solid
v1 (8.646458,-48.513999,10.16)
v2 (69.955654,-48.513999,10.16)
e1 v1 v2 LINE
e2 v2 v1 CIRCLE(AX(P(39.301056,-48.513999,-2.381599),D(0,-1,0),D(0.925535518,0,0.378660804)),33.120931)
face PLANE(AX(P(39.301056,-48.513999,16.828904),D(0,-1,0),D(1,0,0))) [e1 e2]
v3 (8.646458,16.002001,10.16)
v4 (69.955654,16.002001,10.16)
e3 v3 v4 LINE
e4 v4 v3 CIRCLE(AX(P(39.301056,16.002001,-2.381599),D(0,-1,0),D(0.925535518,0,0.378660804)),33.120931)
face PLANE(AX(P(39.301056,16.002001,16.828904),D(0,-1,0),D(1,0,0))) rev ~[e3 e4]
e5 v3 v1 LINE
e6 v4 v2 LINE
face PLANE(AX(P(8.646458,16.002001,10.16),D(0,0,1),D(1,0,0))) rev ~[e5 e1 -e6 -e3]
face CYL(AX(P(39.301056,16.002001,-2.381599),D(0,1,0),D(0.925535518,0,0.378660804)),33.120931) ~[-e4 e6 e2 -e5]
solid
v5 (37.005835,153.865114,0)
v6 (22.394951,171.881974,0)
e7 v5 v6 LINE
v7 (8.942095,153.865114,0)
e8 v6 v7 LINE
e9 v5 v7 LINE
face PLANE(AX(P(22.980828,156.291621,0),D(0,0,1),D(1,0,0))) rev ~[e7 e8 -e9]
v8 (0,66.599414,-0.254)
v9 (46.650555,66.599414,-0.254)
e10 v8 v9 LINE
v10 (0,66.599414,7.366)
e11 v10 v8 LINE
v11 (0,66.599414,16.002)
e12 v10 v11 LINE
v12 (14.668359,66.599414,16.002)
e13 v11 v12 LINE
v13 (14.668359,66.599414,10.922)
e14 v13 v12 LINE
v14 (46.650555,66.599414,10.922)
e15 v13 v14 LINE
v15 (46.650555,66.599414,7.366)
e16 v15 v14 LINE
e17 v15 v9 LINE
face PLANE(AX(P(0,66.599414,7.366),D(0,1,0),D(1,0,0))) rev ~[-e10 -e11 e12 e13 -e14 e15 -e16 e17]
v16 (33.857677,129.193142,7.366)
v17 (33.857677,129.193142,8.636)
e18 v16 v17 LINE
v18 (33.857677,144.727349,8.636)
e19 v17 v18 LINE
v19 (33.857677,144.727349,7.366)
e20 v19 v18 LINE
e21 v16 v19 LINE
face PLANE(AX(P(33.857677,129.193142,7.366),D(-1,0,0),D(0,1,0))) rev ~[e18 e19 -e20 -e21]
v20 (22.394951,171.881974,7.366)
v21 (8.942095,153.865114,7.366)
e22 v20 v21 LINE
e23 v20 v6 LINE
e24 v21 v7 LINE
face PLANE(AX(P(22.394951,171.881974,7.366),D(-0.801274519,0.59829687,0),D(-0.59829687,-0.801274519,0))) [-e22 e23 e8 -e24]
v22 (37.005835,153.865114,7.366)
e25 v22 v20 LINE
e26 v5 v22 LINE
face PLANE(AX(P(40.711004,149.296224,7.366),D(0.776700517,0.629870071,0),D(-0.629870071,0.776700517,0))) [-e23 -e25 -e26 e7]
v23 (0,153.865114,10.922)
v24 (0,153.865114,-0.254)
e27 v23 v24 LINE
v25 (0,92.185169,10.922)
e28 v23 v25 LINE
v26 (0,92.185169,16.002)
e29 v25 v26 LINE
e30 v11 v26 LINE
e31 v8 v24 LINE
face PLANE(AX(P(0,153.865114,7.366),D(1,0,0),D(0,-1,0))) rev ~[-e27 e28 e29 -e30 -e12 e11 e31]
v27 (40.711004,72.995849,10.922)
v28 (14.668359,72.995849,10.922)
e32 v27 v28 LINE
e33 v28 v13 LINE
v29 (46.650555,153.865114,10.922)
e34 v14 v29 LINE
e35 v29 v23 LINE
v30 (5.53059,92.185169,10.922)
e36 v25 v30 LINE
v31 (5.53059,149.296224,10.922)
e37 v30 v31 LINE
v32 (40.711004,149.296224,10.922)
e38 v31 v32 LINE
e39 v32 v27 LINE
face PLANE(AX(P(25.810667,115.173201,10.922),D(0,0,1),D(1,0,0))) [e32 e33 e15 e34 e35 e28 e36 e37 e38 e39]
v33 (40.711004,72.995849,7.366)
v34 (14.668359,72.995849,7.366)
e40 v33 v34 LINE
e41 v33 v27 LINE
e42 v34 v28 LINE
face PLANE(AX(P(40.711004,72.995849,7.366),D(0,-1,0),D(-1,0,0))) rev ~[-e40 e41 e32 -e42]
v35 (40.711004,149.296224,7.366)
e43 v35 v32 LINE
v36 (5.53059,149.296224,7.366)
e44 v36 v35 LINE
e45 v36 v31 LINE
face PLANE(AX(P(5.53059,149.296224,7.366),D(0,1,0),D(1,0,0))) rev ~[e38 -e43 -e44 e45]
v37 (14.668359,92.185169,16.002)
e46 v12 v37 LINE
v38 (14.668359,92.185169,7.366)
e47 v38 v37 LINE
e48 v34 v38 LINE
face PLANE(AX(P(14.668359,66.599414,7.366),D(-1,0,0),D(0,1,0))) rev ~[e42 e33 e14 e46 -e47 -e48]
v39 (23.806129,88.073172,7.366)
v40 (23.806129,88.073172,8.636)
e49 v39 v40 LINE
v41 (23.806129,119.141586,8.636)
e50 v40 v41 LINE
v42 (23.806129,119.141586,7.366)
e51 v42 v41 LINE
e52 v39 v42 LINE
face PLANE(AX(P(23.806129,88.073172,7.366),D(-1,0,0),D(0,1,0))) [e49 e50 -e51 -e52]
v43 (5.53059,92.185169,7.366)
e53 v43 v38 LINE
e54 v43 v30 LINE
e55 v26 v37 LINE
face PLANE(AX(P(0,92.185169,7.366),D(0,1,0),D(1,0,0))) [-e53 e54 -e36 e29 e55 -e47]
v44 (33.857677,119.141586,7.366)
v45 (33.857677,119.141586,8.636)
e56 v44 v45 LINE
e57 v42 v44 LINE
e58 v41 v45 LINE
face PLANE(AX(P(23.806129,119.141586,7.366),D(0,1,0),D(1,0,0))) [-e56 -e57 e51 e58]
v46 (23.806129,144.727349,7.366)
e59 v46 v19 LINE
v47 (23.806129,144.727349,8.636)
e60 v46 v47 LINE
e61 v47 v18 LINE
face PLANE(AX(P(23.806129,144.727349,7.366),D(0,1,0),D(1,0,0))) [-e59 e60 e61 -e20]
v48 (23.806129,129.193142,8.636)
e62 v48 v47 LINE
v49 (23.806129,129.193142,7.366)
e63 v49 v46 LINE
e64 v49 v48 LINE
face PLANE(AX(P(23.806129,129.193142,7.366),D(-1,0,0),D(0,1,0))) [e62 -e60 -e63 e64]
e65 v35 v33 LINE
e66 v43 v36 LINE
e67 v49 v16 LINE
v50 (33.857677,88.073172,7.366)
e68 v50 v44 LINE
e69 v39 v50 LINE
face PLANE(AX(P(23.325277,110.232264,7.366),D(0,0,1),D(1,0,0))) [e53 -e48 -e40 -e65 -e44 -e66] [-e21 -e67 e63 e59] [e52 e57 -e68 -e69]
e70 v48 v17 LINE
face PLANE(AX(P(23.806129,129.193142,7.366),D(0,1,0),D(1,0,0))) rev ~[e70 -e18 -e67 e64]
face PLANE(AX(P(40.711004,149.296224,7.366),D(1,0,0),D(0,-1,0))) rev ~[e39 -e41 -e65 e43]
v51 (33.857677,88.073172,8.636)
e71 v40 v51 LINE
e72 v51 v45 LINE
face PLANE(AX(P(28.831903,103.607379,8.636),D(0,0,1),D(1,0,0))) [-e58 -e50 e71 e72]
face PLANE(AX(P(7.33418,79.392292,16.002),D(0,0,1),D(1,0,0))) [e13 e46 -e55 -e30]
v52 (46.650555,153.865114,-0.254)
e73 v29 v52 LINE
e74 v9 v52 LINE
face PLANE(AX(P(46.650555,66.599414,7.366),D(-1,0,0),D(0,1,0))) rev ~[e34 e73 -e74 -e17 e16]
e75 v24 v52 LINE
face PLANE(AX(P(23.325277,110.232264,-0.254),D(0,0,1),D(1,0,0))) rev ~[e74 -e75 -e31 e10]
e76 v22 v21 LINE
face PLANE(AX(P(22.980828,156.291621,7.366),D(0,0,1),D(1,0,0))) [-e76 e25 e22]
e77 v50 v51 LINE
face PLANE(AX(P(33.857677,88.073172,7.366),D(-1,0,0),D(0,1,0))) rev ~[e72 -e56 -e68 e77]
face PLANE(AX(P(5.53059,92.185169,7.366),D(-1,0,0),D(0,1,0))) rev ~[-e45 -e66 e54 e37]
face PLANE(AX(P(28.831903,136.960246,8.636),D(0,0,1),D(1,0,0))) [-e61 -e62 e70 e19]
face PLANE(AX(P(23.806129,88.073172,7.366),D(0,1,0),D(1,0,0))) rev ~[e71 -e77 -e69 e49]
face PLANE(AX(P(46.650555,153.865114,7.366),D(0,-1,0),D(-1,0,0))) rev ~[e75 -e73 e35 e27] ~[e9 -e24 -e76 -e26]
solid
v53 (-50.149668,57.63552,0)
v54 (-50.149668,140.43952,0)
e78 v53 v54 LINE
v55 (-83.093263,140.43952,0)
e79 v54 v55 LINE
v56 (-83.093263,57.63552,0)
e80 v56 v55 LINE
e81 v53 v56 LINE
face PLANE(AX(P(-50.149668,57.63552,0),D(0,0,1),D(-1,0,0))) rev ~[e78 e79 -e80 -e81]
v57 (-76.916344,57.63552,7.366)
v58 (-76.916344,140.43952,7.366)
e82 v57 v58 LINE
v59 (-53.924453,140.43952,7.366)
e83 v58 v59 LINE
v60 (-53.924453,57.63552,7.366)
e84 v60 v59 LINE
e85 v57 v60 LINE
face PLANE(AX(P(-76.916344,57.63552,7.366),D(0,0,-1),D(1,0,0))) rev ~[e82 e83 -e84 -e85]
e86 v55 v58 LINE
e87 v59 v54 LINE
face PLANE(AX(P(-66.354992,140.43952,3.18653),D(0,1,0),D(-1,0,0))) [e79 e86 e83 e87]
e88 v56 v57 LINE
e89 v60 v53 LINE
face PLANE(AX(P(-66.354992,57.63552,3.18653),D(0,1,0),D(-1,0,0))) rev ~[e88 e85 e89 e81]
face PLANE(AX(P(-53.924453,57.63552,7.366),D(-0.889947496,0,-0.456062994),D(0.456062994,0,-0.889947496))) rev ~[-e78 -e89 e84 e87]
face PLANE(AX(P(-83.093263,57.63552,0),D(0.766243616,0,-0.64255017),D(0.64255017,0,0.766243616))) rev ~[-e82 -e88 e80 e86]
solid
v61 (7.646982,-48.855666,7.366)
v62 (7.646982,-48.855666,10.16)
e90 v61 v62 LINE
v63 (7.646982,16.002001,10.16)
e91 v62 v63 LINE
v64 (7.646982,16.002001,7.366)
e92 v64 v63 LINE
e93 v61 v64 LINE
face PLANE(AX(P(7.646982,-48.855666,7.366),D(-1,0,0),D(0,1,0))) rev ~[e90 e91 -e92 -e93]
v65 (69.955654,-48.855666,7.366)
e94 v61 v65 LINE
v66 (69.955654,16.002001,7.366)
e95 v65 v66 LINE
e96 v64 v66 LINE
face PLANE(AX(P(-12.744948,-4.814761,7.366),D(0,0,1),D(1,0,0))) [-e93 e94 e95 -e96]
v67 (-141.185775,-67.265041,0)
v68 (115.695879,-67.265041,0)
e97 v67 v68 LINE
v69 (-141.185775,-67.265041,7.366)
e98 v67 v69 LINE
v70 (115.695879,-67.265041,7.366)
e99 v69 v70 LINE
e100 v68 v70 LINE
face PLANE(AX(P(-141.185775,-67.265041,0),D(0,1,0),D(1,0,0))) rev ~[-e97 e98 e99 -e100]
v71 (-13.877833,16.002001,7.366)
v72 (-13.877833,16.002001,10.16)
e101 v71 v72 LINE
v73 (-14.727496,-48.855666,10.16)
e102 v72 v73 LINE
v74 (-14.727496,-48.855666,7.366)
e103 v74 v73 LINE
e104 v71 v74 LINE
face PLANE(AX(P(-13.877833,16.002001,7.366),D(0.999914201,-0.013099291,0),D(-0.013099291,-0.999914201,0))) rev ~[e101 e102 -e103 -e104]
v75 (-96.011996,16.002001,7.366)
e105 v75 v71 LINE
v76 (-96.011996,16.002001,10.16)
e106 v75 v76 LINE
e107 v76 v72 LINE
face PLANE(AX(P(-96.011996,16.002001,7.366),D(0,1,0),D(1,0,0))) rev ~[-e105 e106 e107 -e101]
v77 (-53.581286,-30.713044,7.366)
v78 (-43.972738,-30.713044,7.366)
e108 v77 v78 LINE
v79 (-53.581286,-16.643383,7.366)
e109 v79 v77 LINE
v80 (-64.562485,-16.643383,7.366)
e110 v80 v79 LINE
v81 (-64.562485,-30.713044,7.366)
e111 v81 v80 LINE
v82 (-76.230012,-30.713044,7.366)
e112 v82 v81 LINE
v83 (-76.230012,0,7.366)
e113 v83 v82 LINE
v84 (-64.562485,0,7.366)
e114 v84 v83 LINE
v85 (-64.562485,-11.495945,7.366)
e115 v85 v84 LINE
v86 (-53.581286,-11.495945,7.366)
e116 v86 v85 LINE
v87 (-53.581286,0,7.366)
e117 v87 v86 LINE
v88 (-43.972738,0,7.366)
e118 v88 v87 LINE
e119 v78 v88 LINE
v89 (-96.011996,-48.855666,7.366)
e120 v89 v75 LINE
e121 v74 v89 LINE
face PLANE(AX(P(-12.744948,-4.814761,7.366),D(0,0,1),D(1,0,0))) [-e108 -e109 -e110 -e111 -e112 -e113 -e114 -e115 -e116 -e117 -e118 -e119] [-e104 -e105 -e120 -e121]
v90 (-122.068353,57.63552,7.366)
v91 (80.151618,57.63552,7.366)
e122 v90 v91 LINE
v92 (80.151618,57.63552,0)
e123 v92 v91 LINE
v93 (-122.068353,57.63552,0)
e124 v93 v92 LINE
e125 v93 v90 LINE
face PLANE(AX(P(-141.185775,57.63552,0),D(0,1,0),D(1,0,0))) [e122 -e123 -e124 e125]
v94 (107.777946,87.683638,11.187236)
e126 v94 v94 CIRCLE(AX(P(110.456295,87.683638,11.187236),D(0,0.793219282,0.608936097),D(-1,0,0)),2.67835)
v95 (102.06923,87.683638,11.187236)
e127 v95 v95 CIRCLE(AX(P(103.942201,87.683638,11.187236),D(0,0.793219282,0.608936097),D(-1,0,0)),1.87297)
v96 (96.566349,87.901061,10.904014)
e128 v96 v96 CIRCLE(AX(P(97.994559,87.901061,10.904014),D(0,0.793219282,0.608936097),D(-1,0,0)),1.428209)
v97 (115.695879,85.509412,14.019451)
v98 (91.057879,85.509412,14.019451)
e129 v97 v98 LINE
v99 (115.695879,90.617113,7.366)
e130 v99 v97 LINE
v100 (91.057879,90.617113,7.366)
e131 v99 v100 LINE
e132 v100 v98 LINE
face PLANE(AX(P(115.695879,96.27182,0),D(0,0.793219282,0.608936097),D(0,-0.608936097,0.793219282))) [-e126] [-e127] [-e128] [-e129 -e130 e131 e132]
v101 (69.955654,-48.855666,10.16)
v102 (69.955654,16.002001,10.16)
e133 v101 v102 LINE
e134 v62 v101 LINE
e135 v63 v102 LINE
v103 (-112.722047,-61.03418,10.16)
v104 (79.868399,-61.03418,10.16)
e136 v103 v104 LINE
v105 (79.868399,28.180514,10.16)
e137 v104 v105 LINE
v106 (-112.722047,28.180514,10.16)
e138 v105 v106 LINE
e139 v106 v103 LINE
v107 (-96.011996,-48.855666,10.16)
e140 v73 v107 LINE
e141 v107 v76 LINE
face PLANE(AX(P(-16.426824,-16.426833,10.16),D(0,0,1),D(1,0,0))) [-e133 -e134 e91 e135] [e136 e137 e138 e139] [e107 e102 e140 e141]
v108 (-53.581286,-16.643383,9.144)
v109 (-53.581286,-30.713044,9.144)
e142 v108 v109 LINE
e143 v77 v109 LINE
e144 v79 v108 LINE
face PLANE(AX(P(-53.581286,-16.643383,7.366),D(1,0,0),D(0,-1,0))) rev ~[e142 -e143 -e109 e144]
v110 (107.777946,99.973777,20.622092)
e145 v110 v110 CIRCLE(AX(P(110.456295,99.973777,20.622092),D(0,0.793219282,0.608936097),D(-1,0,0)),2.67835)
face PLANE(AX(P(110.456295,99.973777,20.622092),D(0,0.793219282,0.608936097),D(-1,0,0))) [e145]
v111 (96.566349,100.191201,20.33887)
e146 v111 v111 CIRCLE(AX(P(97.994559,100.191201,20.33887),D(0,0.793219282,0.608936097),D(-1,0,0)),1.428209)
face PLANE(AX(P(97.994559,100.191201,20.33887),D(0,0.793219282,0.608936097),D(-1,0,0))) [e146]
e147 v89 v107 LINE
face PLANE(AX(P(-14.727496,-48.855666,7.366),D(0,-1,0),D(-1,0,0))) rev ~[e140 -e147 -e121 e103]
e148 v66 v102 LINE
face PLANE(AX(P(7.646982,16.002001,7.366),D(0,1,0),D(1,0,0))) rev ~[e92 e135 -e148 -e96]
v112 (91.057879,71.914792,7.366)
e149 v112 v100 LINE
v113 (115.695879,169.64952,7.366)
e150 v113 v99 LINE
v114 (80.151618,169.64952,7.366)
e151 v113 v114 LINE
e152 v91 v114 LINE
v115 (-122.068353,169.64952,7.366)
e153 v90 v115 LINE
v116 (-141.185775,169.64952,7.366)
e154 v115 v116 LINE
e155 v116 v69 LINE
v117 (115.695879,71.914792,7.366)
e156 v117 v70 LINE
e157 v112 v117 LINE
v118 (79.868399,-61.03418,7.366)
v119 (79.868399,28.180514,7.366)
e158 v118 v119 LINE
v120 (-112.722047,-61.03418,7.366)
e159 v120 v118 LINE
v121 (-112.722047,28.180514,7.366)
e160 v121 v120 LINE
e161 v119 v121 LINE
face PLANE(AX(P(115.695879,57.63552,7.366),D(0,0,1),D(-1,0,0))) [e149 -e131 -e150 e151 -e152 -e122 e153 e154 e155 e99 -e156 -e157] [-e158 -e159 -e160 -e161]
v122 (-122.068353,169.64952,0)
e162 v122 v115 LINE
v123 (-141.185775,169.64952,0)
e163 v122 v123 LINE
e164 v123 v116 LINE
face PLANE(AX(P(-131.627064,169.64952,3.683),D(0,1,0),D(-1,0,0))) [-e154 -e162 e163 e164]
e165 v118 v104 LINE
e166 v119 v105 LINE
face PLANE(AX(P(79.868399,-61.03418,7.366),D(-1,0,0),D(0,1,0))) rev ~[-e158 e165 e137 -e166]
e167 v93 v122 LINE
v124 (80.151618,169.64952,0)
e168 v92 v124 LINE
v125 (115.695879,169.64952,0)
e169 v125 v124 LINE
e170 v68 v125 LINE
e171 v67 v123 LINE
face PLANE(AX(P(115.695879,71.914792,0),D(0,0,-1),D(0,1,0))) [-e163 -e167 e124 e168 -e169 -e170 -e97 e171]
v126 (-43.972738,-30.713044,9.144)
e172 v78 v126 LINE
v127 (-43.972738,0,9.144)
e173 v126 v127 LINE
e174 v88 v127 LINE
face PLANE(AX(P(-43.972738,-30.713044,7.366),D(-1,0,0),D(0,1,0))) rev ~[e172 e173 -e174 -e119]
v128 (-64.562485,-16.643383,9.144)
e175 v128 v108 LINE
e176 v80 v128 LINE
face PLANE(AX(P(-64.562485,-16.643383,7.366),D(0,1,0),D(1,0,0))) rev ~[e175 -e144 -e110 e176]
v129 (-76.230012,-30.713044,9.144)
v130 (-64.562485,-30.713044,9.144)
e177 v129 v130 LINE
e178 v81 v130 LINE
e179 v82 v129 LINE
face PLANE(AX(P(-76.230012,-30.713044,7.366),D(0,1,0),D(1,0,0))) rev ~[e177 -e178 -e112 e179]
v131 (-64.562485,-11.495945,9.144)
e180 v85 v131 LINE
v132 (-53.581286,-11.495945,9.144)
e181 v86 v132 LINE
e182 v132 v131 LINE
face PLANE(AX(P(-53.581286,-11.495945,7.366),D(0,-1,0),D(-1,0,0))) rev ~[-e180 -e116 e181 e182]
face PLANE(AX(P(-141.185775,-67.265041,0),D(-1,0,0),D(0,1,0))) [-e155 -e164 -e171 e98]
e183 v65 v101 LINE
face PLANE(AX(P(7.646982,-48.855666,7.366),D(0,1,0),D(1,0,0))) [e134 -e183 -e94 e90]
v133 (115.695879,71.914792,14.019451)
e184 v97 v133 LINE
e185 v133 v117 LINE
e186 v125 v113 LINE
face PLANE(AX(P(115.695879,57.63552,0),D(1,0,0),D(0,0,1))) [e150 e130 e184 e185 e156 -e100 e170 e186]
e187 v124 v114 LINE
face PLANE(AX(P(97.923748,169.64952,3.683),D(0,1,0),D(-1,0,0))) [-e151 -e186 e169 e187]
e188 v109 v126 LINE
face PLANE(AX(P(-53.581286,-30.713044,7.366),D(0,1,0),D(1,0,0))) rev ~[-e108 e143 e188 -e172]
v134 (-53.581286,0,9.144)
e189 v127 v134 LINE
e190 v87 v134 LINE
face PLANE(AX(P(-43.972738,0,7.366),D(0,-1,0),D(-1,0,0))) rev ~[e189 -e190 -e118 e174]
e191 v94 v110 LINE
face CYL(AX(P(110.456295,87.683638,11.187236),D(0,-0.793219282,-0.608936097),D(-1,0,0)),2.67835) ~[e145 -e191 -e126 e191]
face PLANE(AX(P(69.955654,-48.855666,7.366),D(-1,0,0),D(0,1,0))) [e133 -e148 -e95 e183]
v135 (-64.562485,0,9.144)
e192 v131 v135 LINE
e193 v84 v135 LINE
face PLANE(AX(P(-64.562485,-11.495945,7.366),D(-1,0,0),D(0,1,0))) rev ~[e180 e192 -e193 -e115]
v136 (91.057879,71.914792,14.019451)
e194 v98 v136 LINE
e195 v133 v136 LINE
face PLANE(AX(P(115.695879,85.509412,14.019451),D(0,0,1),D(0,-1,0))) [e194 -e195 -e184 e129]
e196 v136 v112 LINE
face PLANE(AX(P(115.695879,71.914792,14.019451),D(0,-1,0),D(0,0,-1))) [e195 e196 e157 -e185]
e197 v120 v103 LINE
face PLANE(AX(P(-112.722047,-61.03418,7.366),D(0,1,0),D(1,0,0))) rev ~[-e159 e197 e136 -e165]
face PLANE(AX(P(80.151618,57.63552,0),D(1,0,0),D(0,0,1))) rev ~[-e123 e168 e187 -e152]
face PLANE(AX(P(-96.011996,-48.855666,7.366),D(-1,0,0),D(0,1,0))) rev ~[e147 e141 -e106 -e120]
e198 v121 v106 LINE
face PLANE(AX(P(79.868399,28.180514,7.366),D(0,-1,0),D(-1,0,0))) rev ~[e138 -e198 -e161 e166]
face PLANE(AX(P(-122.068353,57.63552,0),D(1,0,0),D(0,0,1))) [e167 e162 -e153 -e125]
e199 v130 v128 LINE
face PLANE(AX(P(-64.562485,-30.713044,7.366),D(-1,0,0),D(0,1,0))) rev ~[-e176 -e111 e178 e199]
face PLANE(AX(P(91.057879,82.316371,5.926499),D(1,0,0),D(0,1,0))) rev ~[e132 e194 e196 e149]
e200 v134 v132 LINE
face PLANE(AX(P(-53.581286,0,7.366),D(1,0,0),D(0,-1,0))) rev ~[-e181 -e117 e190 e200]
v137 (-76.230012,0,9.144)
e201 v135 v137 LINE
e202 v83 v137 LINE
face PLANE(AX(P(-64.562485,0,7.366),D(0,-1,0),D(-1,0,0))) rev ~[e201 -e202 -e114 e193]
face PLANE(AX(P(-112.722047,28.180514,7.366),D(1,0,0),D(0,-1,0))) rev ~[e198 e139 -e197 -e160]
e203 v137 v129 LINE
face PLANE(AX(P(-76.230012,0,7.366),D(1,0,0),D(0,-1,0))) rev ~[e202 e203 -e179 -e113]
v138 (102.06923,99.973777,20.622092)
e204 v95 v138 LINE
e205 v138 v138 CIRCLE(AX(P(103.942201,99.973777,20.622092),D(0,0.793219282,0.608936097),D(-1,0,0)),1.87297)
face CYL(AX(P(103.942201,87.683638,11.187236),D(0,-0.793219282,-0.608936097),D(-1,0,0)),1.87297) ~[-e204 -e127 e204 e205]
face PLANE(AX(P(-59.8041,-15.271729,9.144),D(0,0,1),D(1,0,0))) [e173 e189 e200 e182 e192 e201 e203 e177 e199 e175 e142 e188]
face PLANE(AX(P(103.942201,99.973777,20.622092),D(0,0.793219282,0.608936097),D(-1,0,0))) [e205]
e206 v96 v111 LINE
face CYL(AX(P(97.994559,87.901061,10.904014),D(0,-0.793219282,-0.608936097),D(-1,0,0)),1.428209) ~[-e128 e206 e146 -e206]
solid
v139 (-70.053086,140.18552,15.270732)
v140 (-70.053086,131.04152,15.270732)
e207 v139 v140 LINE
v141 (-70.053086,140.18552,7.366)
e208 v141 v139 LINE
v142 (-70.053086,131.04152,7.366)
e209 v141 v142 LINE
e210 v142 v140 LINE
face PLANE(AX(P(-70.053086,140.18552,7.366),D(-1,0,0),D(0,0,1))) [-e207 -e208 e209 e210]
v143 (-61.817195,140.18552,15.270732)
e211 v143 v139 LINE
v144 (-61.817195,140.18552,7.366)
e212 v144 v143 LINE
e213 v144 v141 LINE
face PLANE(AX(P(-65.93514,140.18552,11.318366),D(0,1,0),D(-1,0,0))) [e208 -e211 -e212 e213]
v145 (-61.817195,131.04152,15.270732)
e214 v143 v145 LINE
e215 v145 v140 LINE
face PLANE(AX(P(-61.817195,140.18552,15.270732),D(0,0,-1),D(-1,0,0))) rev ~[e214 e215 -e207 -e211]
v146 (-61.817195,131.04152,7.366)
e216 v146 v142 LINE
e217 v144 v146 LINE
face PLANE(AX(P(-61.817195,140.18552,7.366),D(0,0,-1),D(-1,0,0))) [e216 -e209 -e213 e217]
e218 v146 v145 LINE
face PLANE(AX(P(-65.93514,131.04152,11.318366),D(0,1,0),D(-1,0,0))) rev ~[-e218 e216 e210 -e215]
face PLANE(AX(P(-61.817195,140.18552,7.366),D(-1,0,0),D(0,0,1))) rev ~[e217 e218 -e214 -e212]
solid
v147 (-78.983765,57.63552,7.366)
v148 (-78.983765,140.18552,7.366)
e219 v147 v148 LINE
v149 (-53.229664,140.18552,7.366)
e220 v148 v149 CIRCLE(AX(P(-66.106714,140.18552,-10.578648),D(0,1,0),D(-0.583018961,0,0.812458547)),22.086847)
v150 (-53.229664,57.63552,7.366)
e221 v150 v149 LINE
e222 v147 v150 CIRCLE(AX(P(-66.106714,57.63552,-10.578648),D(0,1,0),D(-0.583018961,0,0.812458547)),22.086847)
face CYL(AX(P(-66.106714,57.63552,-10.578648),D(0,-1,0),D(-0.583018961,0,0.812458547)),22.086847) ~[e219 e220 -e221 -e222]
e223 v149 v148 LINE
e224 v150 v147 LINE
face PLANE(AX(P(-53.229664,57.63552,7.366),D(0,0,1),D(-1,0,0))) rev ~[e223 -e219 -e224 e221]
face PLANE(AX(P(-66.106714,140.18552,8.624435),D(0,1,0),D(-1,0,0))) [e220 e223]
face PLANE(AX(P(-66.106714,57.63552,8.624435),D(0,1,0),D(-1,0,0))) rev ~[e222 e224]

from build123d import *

# Parameters (mm, degrees)
F0_W      = 256.8816542625
F0_H      = 124.9005608261
F1_DEPTH  = 7.366
F2_W      = 62.3086728156
F2_H      = 64.857667312
F3_DEPTH  = 2.794
F5_DEPTH  = 1.778
F7_DEPTH  = 64.516
F8_W      = 35.5442613363
F8_H      = 7.366
F8_W_2    = 19.1174224019
F9_DEPTH  = 112.014
F10_W     = 46.6505549848
F10_H     = 87.2657001019
F11_DEPTH = 7.62
F12_W     = 10.051548481
F12_H     = 15.5342072248
F12_H_2   = 31.0684144497
F13_DEPTH = 1.27
F14_W     = 14.6683594212
F14_H     = 25.5857557058
F15_DEPTH = 8.636
F17_DEPTH = 3.556
F19_DEPTH = 7.366
F21_DEPTH = 82.55
F23_DEPTH = 82.804
F24_W     = 8.2358904183
F24_H     = 7.9047323432
F25_DEPTH = 9.144
F27_DEPTH = 24.638
F28_R     = 2.6783495987
F28_R_2   = 1.4282092452
F28_R_3   = 1.8729701821
F29_DEPTH = 15.494


with BuildPart() as f1:
    # F0 (on Top) → F1 (new body)
    with BuildSketch(Plane.XY):
        with Locations((-12.7449482679, -4.8147607595)):
            Rectangle(F0_W, F0_H)
    extrude(amount=F1_DEPTH)

    # F2 (on face) → F3 (join)
    with BuildSketch(Plane.XY.offset(7.366)):
        Polygon((-112.7220466733, -61.0341802239), (-13.8778332621, -61.0341802239), (79.8683986068, -61.0341802239), (79.8683986068, 28.180513531), (-13.8778332621, 28.180513531), (-112.7220466733, 28.180513531), align=None)
        Polygon((-96.0119962692, 16.0020012408), (-13.8778332621, 16.0020012408), (-14.7274956107, -48.8556660712), (-96.0119962692, -48.8556660712), align=None, mode=Mode.SUBTRACT)
        with Locations((38.8013180345, -16.4268324152)):
            Rectangle(F2_W, F2_H, mode=Mode.SUBTRACT)
    extrude(amount=F3_DEPTH)

    # F4 (on face) → F5 (join)
    with BuildSketch(Plane.XY.offset(7.366)):
        Polygon((-64.562484622, 0), (-76.2300118804, 0), (-76.2300118804, -30.713044107), (-64.562484622, -30.713044107), (-64.562484622, -16.6433826089), (-53.5812862217, -16.6433826089), (-53.5812862217, -30.713044107), (-43.9727380872, -30.713044107), (-43.9727380872, 0), (-53.5812862217, 0), (-53.5812862217, -11.4959450439), (-64.562484622, -11.4959450439), align=None)
    extrude(amount=F5_DEPTH)

    # F8 (on face) → F9 (join)
    with BuildSketch(Plane(origin=(0, 57.6355196536, 0), x_dir=(-1, 0, 0), z_dir=(0, 1, 0))):
        with Locations((-97.9237481952, 3.683)):
            Rectangle(F8_W, F8_H)
        with Locations((131.6270641983, 3.683)):
            Rectangle(F8_W_2, F8_H)
    extrude(amount=F9_DEPTH)

    # F26 (on face) → F27 (join)
    with BuildSketch(Plane.YZ.offset(115.6958788633)):
        Polygon((71.9147920609, 0), (96.2718203664, 0), (85.5094119906, 14.0194511041), (71.9147920609, 14.0194511041), align=None)
    extrude(amount=-F27_DEPTH)

    # F28 (on face) → F29 (join)
    with BuildSketch(Plane(origin=(0, 60.5739241185, 46.5012006136), x_dir=(-1, 0, 0), z_dir=(0, 0.7932192819, 0.6089360974))):
        with Locations((-110.4562953115, -44.5198006928)):
            Circle(F28_R)
        with Locations((-97.9945585132, -44.8768548667)):
            Circle(F28_R_2)
        with Locations((-103.9422005415, -44.5198006928)):
            Circle(F28_R_3)
    extrude(amount=F29_DEPTH)


with BuildPart() as f7:
    # F6 (on face) → F7 (new body)
    with BuildSketch(Plane.XZ.offset(-16.0020012408)):
        with BuildLine():
            Line((8.6464575235, 10.16), (69.9556544423, 10.16))
            ThreePointArc((69.9556544423, 10.16), (39.3010559829, 30.7393329186), (8.6464575235, 10.16))
        make_face()
    extrude(amount=F7_DEPTH)


with BuildPart() as f11:
    # F10 (on face) → F11 (new body)
    with BuildSketch(Plane.XY.offset(7.366)):
        with Locations((23.3252774924, 110.2322638035)):
            Rectangle(F10_W, F10_H)
    extrude(amount=-F11_DEPTH)

    # F12 (on face) → F13 (join)
    with BuildSketch(Plane.XY.offset(7.366)):
        with Locations((28.8319028914, 136.9602456689)):
            Rectangle(F12_W, F12_H)
        with Locations((28.8319028914, 103.6073789001)):
            Rectangle(F12_W, F12_H_2)
    extrude(amount=F13_DEPTH)

    # F14 (on face) → F15 (join)
    with BuildSketch(Plane.XY.offset(7.366)):
        with Locations((7.3341797106, 79.3922916055)):
            Rectangle(F14_W, F14_H)
    extrude(amount=F15_DEPTH)

    # F16 (on face) → F17 (join)
    with BuildSketch(Plane.XY.offset(7.366)):
        Polygon((0, 153.8651138544), (0, 92.1851694584), (5.5305897258, 92.1851694584), (5.5305897258, 149.2962241173), (40.711004287, 149.2962241173), (40.711004287, 72.9958489537), (14.6683594212, 72.9958489537), (14.6683594212, 66.5994137526), (46.6505549848, 66.5994137526), (46.6505549848, 153.8651138544), align=None)
    extrude(amount=F17_DEPTH)

    # F18 (on face) → F19 (join)
    with BuildSketch(Plane.XY.offset(7.366)):
        Polygon((22.3949514329, 171.8819737434), (5.5305897258, 149.2962241173), (40.711004287, 149.2962241173), align=None)
    extrude(amount=-F19_DEPTH)


with BuildPart() as f21:
    # F20 (on face) → F21 (new body)
    with BuildSketch(Plane(origin=(0, 57.6355196536, 0), x_dir=(-1, 0, 0), z_dir=(0, 1, 0))):
        with BuildLine():
            Line((53.2296635239, 7.366), (78.9837650926, 7.366))
            ThreePointArc((78.9837650926, 7.366), (66.1067143083, 11.5081994322), (53.2296635239, 7.366))
        make_face()
    extrude(amount=F21_DEPTH)


with BuildPart() as f23:
    # F22 (on face) → F23 (new body)
    with BuildSketch(Plane(origin=(0, 57.6355196536, 0), x_dir=(-1, 0, 0), z_dir=(0, 1, 0))):
        Polygon((76.9163444638, 7.366), (53.9244525135, 7.366), (50.1496680081, 0), (83.0932632089, 0), align=None)
    extrude(amount=F23_DEPTH)


with BuildPart() as f25:
    # F24 (on face) → F25 (new body)
    with BuildSketch(Plane(origin=(0, 140.1855196536, 0), x_dir=(-1, 0, 0), z_dir=(0, 1, 0))):
        with Locations((65.9351404756, 11.3183661716)):
            Rectangle(F24_W, F24_H)
    extrude(amount=-F25_DEPTH)


solid = Compound([f1.part, f7.part, f11.part, f21.part, f23.part, f25.part])
